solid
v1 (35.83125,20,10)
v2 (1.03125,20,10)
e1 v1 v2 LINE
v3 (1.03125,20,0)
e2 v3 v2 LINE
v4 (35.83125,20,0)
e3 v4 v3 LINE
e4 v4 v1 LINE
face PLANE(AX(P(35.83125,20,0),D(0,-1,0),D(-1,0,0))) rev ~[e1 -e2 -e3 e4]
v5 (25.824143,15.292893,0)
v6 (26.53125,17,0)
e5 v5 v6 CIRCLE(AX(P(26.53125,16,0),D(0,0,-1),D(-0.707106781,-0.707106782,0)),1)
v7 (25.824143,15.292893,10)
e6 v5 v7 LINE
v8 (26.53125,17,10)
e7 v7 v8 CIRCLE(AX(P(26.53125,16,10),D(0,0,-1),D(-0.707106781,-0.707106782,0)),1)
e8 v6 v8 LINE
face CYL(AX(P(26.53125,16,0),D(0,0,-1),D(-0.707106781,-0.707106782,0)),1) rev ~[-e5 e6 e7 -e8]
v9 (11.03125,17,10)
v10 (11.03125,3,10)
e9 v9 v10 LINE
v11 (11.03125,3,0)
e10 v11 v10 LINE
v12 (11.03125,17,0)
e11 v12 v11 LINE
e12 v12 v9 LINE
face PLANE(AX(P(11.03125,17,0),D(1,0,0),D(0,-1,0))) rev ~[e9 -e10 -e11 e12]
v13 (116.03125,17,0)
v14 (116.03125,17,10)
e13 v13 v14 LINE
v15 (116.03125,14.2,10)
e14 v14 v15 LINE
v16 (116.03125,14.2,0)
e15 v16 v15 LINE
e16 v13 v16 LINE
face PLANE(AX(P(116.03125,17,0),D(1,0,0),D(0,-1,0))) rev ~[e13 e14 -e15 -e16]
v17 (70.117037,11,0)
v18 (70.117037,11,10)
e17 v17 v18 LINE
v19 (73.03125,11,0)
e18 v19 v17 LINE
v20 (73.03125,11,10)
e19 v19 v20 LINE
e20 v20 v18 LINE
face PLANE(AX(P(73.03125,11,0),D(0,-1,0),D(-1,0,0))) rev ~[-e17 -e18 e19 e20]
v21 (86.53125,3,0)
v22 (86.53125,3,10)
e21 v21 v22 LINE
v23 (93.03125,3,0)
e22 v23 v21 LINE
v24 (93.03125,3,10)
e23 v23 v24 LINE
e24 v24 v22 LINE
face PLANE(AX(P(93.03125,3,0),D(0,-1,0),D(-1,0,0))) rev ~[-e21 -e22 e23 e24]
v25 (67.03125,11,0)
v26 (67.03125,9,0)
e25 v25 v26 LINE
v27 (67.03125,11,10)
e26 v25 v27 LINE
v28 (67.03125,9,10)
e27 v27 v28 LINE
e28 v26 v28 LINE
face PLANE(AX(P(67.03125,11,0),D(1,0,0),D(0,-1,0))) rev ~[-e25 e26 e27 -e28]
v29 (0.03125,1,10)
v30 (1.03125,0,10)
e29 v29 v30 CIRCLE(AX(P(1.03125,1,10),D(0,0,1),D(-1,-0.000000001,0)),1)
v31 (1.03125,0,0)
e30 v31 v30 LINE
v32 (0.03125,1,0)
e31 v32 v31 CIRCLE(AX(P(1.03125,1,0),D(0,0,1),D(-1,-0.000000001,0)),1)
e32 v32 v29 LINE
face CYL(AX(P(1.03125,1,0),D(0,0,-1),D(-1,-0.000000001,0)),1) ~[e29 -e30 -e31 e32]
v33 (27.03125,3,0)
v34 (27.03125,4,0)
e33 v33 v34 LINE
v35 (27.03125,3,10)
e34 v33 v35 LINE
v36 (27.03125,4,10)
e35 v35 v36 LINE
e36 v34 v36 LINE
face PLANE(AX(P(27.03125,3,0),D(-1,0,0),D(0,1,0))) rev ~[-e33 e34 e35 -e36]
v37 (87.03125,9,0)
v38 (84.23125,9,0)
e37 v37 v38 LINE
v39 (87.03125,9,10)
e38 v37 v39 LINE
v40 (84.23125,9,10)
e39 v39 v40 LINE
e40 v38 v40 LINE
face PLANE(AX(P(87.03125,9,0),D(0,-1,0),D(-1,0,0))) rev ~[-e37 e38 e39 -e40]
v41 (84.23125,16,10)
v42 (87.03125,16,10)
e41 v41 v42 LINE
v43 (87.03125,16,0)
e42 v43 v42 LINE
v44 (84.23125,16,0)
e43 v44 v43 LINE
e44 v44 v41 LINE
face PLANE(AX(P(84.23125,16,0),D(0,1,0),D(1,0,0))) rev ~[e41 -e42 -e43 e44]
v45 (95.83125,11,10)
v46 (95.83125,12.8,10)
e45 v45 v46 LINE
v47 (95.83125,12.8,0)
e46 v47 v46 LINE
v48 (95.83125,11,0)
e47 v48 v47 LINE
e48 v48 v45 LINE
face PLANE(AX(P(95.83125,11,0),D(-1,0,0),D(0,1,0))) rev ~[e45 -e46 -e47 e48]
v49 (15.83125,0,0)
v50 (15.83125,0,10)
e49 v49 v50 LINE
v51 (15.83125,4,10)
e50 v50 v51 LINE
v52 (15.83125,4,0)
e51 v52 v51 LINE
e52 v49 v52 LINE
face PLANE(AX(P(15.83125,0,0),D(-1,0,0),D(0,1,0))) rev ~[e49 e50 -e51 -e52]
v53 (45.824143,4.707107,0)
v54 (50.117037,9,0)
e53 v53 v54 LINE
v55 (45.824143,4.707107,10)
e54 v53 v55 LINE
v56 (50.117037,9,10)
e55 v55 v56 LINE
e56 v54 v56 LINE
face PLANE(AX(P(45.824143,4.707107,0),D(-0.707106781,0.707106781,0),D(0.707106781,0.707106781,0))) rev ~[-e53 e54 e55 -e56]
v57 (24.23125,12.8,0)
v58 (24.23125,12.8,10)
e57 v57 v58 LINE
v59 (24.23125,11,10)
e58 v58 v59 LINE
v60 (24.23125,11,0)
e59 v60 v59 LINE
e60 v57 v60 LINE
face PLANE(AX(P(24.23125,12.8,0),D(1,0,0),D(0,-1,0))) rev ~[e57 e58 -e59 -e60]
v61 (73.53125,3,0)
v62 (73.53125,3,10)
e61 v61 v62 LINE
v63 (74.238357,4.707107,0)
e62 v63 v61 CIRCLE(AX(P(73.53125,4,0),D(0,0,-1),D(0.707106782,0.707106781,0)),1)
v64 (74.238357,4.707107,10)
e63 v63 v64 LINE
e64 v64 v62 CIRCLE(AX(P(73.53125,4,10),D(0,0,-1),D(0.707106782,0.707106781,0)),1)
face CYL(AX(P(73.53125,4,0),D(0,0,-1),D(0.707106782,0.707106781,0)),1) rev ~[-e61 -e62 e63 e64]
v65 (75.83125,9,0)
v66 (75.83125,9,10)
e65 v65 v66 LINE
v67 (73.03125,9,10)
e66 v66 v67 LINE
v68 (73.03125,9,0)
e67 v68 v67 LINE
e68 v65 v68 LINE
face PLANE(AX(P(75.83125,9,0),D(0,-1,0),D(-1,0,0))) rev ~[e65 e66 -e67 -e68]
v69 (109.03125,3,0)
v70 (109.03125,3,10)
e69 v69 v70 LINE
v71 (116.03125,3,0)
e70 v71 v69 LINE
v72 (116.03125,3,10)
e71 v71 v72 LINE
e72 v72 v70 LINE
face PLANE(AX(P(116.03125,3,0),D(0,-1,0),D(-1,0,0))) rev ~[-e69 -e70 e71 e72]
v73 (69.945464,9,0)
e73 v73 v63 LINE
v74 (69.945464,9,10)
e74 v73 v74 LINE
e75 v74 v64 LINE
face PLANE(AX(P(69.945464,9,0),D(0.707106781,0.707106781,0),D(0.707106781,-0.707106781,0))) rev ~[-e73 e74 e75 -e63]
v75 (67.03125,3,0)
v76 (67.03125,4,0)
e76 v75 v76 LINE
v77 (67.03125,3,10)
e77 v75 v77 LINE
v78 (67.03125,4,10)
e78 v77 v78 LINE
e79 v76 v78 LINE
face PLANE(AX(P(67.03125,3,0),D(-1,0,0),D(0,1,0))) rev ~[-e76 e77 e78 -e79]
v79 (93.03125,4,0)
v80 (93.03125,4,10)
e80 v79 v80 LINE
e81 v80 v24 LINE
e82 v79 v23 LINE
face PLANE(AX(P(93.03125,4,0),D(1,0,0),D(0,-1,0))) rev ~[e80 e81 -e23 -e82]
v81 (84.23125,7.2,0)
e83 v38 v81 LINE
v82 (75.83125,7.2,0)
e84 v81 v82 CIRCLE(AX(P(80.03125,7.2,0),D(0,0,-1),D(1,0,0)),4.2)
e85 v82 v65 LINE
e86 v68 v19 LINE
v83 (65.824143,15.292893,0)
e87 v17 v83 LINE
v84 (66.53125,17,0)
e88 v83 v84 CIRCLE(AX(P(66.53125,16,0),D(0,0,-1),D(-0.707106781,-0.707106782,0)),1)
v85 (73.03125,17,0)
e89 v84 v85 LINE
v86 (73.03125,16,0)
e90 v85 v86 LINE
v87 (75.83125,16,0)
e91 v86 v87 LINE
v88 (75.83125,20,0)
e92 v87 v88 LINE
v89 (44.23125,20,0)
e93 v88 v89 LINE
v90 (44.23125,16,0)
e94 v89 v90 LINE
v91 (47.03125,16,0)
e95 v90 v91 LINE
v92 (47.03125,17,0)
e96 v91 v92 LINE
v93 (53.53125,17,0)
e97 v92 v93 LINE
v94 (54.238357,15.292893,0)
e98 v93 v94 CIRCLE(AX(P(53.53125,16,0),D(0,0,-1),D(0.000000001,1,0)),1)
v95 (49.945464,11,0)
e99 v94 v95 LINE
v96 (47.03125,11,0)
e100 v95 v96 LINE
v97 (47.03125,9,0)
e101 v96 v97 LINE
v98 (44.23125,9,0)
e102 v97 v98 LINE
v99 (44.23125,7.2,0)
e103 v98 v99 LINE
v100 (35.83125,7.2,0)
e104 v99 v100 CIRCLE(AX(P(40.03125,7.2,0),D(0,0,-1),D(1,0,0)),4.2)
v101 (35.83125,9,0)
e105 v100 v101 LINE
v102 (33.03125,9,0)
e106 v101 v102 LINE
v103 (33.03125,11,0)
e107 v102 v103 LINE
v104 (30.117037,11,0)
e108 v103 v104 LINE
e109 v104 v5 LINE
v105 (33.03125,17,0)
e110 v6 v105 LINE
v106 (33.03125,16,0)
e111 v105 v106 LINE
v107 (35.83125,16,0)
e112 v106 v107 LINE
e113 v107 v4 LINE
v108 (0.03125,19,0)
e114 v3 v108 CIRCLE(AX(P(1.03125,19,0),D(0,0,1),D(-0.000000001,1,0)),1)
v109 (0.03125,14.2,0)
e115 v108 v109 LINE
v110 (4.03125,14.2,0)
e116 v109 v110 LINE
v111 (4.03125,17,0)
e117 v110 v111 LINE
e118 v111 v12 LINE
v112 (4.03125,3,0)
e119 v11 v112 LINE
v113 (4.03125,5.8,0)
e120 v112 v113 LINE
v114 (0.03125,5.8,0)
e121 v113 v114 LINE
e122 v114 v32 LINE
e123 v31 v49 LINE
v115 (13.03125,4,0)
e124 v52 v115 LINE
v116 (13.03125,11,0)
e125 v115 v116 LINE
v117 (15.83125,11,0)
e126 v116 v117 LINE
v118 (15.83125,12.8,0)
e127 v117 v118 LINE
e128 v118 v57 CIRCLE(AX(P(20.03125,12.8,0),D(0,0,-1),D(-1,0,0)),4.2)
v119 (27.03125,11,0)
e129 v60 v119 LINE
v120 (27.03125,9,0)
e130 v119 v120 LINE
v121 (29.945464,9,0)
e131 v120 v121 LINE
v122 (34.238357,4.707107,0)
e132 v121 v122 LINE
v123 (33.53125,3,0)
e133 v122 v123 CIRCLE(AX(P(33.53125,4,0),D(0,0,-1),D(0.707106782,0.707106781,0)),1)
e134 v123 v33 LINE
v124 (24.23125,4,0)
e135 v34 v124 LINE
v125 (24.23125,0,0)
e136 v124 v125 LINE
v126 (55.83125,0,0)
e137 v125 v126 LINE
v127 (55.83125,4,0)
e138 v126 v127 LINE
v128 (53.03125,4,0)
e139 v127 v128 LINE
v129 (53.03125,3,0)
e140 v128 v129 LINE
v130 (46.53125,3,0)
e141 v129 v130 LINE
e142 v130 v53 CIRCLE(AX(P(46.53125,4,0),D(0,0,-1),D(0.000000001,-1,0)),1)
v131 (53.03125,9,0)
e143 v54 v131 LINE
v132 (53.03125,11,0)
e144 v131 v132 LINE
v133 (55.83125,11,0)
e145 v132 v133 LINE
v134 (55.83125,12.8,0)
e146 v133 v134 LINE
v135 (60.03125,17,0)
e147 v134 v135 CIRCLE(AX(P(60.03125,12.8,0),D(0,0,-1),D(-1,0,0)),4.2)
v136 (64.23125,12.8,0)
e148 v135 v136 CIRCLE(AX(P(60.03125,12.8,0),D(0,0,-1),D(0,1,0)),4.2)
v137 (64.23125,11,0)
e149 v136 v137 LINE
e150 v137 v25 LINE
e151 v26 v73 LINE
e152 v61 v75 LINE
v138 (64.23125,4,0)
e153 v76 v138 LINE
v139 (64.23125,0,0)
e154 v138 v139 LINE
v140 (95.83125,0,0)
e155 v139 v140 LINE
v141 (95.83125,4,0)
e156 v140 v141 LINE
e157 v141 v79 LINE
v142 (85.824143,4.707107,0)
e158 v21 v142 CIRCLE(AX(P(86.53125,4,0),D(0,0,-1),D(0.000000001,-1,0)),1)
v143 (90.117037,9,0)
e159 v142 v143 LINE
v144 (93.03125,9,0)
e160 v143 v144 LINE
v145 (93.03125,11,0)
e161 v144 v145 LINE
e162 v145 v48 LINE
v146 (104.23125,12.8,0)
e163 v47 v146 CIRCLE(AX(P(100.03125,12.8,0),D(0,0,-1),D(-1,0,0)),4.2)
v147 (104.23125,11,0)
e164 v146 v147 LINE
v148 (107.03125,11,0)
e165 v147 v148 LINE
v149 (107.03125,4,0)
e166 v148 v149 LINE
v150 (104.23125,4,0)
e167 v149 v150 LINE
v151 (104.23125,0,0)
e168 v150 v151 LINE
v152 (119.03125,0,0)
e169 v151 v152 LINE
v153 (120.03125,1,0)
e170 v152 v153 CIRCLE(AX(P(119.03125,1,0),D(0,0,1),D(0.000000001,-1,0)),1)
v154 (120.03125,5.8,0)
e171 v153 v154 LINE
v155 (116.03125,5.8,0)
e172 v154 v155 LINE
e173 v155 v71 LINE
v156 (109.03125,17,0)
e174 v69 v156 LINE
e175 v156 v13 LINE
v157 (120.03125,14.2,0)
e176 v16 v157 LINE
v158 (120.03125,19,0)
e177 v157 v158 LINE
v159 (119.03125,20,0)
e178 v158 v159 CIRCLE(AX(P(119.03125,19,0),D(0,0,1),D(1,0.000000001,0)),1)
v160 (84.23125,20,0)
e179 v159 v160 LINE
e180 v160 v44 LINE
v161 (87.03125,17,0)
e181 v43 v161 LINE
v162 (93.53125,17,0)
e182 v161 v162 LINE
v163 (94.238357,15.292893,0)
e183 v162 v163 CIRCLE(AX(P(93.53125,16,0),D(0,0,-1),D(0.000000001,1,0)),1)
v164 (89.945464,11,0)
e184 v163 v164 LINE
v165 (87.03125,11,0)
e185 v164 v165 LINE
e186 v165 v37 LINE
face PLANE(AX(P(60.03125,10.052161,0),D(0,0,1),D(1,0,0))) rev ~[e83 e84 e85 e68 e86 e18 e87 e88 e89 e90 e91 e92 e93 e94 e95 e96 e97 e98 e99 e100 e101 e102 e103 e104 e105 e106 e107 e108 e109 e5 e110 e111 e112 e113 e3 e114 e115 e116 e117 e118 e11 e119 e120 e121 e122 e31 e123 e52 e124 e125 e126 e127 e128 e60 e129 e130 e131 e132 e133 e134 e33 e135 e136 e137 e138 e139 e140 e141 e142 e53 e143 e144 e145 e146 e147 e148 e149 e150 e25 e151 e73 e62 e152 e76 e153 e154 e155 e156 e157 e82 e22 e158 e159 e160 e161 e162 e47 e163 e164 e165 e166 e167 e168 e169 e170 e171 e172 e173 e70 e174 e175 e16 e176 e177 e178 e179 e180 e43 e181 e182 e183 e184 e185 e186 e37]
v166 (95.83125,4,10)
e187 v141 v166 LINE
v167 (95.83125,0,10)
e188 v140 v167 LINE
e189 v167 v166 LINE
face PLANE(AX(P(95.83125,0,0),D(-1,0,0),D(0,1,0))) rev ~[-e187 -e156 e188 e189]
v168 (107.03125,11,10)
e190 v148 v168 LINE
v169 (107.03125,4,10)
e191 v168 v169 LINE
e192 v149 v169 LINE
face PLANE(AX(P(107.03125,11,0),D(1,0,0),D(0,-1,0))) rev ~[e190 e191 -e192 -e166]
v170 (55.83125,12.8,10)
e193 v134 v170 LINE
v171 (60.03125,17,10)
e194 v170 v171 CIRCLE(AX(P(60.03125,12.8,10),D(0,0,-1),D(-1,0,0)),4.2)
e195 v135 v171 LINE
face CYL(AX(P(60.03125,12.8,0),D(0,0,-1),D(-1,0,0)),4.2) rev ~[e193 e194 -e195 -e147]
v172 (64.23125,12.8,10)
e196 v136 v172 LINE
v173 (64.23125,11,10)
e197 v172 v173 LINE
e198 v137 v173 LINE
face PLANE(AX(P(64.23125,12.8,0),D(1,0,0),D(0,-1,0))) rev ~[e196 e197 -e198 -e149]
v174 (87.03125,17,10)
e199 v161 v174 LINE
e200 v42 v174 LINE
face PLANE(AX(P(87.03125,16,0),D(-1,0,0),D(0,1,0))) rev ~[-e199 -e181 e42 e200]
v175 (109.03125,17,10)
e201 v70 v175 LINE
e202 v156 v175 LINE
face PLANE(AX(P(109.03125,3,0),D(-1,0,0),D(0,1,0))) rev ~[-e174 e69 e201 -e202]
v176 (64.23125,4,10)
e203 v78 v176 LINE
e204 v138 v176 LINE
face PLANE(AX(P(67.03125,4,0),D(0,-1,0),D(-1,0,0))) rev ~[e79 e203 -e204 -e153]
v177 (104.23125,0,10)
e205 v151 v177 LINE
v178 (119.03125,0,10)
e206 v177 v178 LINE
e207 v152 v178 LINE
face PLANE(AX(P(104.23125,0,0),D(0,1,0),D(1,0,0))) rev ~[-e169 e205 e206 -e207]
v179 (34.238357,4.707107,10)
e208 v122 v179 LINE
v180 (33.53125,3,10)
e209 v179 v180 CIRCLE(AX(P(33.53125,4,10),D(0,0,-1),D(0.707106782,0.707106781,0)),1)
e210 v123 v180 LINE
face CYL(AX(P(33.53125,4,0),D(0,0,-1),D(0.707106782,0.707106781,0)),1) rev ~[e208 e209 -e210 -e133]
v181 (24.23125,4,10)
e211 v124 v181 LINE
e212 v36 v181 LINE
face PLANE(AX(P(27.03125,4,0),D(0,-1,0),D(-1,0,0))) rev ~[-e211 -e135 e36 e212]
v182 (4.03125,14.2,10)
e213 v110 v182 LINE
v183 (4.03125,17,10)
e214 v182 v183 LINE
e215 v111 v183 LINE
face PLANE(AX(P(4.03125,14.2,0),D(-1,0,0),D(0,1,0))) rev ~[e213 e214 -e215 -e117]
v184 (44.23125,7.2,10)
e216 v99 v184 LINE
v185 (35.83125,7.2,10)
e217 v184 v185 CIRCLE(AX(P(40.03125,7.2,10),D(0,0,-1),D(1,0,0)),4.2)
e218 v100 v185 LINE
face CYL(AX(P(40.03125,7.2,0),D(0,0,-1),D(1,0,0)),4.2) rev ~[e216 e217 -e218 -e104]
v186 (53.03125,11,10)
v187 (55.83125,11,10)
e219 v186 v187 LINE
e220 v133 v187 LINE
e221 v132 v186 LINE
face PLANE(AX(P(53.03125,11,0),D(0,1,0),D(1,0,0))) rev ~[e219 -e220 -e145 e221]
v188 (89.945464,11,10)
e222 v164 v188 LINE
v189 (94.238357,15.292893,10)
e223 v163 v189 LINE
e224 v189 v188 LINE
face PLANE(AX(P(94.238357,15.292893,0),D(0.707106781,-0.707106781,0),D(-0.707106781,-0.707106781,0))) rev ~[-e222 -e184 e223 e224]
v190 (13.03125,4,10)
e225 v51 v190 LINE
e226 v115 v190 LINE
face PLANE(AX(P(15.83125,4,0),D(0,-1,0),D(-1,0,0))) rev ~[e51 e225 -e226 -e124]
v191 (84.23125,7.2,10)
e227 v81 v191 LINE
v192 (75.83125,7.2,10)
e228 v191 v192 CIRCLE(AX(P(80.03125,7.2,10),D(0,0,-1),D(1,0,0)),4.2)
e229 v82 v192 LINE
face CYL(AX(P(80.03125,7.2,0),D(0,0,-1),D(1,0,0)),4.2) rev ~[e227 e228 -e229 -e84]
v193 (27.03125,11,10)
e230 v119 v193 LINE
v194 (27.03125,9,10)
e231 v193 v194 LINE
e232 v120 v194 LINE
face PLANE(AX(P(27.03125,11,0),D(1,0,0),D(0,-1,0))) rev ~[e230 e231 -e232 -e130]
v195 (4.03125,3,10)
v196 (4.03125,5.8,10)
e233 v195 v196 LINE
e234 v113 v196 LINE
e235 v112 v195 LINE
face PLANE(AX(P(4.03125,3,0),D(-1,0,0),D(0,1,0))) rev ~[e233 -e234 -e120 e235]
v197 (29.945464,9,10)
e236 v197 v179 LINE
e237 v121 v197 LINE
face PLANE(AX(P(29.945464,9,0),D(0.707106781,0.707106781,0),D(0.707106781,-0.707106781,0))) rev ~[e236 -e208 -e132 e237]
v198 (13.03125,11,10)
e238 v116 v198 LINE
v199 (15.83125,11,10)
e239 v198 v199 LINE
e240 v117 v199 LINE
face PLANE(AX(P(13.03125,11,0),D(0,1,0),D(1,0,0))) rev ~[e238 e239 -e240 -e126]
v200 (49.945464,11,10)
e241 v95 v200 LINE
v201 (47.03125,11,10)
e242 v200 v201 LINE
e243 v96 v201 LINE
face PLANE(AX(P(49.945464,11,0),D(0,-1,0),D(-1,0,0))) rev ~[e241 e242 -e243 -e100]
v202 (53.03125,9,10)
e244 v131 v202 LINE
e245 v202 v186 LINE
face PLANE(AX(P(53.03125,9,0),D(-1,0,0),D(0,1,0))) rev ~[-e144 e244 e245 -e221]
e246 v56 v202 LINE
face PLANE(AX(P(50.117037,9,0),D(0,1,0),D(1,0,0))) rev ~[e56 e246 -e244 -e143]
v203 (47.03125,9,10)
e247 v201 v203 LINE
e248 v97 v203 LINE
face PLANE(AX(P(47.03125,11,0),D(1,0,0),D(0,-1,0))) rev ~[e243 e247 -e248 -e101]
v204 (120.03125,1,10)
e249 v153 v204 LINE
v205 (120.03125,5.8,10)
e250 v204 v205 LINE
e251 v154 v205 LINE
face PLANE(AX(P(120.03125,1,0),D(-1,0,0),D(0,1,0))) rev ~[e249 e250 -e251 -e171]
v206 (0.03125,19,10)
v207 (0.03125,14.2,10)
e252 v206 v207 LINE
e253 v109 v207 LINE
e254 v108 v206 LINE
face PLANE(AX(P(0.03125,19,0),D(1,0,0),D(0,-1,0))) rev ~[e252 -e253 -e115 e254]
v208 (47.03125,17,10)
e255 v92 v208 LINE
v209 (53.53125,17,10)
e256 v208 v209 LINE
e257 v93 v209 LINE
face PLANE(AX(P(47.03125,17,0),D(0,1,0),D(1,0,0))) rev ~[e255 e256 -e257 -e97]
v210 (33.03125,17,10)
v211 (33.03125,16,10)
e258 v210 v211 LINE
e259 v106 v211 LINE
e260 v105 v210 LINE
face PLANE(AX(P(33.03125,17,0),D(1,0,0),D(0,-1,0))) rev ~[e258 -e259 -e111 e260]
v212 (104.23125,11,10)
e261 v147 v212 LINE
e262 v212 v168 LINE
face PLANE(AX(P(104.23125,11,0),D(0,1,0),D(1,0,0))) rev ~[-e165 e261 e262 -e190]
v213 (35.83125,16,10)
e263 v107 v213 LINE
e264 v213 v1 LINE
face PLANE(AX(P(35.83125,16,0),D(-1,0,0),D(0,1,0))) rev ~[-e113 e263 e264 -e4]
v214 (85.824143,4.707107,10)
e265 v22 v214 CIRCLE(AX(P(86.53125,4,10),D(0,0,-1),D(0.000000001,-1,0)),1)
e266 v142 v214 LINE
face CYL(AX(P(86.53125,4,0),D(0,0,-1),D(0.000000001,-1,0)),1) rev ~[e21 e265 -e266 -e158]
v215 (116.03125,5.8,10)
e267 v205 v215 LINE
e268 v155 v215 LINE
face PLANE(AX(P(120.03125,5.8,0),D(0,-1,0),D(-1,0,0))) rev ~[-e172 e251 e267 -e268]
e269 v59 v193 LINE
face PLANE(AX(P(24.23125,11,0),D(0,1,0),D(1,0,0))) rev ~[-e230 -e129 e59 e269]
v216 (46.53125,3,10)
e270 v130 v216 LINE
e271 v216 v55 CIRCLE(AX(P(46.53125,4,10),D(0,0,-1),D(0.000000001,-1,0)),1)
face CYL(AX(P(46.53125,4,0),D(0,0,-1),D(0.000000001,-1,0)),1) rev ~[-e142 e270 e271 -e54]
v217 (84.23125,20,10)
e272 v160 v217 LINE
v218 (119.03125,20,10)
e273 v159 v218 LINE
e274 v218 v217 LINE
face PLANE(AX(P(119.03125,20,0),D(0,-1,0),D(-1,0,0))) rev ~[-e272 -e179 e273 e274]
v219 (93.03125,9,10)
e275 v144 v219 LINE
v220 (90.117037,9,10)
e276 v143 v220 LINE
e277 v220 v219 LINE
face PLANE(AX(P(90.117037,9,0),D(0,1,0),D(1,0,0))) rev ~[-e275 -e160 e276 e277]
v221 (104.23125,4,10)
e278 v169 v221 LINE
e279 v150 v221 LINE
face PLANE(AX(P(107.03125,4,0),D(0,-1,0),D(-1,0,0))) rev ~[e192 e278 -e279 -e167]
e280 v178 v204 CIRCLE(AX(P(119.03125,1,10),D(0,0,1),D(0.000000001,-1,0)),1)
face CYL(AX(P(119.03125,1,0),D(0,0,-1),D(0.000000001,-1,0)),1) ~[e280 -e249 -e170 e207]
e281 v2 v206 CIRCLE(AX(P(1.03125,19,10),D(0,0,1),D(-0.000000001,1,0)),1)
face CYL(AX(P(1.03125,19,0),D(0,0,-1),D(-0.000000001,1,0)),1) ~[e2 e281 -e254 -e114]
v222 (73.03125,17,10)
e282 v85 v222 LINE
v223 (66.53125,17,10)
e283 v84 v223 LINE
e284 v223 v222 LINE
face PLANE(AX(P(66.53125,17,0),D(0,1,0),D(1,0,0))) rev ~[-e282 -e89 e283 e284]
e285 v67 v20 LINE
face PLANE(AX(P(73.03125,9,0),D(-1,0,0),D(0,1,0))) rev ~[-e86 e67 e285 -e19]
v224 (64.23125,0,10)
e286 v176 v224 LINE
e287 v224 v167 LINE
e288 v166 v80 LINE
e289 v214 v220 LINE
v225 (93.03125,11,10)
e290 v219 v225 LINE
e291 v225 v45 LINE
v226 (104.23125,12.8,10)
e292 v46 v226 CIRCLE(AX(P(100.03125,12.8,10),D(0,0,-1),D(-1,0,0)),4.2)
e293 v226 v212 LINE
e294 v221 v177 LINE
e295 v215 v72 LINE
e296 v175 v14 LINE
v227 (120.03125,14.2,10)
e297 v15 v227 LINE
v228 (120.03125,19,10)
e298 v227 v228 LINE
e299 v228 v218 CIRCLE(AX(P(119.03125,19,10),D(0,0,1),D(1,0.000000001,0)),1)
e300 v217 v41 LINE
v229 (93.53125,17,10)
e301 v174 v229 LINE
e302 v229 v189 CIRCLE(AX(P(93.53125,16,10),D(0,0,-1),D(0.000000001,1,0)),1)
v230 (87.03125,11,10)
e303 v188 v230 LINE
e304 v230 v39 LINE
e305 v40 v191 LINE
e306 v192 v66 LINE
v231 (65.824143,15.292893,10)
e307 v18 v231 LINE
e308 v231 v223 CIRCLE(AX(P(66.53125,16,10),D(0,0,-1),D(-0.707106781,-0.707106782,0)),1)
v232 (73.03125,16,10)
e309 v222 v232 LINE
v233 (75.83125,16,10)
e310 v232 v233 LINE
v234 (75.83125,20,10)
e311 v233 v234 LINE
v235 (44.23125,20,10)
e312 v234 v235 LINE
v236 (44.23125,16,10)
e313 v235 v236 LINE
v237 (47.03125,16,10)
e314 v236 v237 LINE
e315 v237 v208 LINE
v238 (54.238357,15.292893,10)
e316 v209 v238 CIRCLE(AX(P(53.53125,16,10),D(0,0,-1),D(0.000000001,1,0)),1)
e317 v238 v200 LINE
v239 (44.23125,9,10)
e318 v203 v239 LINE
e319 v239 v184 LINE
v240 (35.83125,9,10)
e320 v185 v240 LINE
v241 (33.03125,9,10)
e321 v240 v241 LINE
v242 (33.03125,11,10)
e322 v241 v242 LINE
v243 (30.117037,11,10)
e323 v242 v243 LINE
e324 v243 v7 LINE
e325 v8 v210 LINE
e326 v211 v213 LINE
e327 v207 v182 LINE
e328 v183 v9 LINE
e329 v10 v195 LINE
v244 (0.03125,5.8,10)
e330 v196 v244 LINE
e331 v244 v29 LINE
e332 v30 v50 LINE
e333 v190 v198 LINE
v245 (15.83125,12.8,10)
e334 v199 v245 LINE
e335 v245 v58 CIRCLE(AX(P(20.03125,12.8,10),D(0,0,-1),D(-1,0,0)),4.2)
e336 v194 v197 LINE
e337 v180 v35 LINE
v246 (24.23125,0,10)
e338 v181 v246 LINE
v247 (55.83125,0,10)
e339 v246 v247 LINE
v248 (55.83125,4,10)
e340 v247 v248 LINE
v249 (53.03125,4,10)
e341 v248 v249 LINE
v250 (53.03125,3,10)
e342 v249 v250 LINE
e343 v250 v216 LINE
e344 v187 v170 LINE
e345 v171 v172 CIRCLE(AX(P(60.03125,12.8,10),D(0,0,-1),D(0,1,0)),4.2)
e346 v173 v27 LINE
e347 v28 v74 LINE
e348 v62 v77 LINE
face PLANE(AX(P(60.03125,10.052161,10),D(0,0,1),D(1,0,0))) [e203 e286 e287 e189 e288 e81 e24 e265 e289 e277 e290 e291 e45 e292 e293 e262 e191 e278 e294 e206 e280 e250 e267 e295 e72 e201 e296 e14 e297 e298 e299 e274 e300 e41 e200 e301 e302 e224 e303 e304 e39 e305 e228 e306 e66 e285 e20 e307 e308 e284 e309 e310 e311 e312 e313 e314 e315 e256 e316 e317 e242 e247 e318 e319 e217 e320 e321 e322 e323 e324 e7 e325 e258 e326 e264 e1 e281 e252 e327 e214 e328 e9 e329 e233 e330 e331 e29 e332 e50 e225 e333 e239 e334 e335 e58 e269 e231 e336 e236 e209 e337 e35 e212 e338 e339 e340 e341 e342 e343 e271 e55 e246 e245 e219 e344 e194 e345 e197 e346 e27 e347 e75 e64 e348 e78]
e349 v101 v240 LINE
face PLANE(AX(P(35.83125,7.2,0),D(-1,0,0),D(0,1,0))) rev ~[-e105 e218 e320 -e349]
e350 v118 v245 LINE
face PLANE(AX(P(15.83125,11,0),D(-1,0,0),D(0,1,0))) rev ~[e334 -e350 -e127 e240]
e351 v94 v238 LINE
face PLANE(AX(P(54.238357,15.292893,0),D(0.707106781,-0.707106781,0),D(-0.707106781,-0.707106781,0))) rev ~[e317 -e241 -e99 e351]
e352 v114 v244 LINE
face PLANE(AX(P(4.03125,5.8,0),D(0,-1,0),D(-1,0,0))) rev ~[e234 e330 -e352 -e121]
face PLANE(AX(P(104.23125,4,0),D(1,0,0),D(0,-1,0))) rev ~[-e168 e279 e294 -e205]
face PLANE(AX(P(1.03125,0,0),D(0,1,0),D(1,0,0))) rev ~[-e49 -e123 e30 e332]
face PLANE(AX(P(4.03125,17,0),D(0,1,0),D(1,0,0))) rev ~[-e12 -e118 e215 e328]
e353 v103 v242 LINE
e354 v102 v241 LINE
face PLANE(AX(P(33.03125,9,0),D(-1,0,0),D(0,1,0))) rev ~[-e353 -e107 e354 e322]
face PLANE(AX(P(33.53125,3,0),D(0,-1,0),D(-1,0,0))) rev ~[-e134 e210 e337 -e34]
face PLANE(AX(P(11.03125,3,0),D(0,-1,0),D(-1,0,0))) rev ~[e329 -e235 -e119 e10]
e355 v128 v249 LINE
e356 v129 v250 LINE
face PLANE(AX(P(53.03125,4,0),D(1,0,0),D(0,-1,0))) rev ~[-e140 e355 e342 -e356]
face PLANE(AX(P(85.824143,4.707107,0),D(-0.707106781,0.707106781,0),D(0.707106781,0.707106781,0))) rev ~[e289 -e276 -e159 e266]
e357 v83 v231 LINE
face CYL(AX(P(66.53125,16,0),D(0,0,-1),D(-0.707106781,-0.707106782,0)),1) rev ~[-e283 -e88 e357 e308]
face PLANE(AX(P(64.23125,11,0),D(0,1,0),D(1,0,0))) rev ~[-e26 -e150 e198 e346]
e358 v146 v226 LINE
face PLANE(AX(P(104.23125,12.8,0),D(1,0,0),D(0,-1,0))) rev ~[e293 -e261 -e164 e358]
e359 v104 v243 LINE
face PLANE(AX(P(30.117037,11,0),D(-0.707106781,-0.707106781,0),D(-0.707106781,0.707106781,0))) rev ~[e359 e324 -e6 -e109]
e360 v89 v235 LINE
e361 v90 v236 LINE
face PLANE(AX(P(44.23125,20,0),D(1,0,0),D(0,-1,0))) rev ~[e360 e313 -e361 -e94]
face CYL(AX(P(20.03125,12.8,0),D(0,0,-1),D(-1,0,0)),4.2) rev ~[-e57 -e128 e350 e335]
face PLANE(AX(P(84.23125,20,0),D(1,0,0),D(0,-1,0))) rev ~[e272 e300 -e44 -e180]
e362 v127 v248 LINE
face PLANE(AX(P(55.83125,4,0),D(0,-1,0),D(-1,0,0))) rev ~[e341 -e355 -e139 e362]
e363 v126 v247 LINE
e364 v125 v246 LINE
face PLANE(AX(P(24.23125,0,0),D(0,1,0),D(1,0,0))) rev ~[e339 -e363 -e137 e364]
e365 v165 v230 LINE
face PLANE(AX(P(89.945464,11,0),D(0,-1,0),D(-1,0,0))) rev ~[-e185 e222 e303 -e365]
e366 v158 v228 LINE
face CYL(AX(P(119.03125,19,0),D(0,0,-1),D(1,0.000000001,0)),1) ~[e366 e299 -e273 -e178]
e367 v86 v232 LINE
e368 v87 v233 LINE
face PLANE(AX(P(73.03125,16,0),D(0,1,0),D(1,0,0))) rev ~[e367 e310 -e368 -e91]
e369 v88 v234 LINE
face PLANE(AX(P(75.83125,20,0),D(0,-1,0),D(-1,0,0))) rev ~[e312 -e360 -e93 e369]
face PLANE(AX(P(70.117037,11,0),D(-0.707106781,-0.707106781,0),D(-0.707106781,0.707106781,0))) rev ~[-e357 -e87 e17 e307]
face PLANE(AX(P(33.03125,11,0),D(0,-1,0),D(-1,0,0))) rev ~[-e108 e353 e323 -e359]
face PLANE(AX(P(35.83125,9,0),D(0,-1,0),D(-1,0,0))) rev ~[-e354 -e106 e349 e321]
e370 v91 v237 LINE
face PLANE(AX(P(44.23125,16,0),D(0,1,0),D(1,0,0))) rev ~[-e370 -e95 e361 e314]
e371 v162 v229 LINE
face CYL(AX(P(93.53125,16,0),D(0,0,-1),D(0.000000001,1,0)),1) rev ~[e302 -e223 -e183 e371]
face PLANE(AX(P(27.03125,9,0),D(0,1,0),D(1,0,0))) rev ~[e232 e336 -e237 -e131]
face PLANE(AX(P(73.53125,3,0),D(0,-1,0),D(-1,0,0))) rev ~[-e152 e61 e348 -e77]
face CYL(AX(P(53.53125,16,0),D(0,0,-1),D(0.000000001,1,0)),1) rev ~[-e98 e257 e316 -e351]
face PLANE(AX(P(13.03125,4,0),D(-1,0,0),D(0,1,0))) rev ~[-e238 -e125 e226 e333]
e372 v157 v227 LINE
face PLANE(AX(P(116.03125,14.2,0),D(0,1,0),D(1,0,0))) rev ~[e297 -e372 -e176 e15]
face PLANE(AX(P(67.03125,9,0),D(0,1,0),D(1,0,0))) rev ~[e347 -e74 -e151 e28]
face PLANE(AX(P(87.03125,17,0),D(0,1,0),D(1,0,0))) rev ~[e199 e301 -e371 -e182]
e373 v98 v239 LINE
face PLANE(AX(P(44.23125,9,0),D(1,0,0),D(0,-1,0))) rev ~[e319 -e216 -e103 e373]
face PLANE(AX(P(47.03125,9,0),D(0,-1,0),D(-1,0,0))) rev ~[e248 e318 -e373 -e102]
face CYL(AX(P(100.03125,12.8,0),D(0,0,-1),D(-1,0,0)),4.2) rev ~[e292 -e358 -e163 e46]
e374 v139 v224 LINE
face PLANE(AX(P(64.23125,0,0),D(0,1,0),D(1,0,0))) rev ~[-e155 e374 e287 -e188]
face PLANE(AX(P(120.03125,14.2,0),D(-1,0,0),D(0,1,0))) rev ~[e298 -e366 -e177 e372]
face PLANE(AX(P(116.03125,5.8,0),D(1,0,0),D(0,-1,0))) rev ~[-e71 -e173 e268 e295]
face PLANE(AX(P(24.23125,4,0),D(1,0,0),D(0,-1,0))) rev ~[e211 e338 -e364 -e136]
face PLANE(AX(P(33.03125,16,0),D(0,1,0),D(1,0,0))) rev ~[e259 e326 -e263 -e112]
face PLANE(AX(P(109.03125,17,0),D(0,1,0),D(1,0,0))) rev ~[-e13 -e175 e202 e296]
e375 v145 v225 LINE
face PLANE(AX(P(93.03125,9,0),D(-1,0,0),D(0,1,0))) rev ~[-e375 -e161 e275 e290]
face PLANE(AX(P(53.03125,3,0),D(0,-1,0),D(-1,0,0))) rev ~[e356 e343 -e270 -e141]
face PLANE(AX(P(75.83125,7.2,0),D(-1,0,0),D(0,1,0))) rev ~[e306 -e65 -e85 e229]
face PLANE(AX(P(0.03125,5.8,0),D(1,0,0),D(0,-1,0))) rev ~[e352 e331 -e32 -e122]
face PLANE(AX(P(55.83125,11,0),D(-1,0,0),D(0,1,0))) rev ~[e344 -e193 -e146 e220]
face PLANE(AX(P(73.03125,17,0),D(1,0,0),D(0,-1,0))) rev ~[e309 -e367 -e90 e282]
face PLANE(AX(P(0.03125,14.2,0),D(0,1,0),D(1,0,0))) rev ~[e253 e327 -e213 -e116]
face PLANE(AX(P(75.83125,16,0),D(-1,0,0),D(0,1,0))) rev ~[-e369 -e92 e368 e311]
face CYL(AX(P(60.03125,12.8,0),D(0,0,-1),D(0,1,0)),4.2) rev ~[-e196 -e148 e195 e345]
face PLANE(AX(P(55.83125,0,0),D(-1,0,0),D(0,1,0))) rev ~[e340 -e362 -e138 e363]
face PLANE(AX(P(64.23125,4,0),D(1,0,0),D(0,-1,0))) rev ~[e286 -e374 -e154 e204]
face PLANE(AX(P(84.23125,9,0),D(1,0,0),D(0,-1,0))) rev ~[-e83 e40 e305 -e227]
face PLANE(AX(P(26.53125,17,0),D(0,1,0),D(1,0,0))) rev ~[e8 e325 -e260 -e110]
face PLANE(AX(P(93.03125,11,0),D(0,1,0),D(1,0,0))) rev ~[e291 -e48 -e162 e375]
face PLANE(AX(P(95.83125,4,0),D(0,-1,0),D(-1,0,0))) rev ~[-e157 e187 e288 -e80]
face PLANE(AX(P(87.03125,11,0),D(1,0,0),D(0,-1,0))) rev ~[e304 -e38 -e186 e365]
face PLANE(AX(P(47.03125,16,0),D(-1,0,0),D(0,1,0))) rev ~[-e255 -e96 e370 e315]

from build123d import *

# Parameters (mm, degrees)
EXTRUDE_1_DEPTH = 10


with BuildPart() as part:
    # 草图1 → 凸台-拉伸1 (new body)
    with BuildSketch(Plane.XY):
        with BuildLine():
            Line((66.531250095, 17), (73.031250095, 17))
            Line((73.031250095, 17), (73.031250095, 16))
            Line((73.031250095, 16), (75.831250095, 16))
            Line((75.831250095, 16), (75.831250095, 20))
            Line((75.831250095, 20), (60.031250095, 20))
            Line((60.031250095, 20), (44.231250095, 20))
            Line((44.231250095, 20), (44.231250095, 16))
            Line((44.231250095, 16), (47.031250095, 16))
            Line((47.031250095, 16), (47.031250095, 17))
            Line((47.031250095, 17), (53.531250095, 17))
            ThreePointArc((53.531250095, 17), (54.455129627, 16.382683432), (54.238356876, 15.292893219))
            Line((54.238356876, 15.292893219), (49.945463657, 11))
            Line((49.945463657, 11), (47.031250095, 11))
            Line((47.031250095, 11), (47.031250095, 9))
            Line((47.031250095, 9), (44.231250095, 9))
            Line((44.231250095, 9), (44.231250095, 7.2))
            ThreePointArc((44.231250095, 7.2), (40.031250095, 3), (35.831250095, 7.2))
            Line((35.831250095, 7.2), (35.831250095, 9))
            Line((35.831250095, 9), (33.031250095, 9))
            Line((33.031250095, 9), (33.031250095, 11))
            Line((33.031250095, 11), (30.117036532, 11))
            Line((30.117036532, 11), (25.824143314, 15.292893219))
            ThreePointArc((25.824143314, 15.292893219), (25.607370562, 16.382683432), (26.531250095, 17))
            Line((26.531250095, 17), (33.031250095, 17))
            Line((33.031250095, 17), (33.031250095, 16))
            Line((33.031250095, 16), (35.831250095, 16))
            Line((35.831250095, 16), (35.831250095, 20))
            Line((35.831250095, 20), (1.031250095, 20))
            ThreePointArc((1.031250095, 20), (0.324143314, 19.707106781), (0.031250095, 19))
            Line((0.031250095, 19), (0.031250095, 14.2))
            Line((0.031250095, 14.2), (4.031250095, 14.2))
            Line((4.031250095, 14.2), (4.031250095, 17))
            Line((4.031250095, 17), (11.031250095, 17))
            Line((11.031250095, 17), (11.031250095, 3))
            Line((11.031250095, 3), (4.031250095, 3))
            Line((4.031250095, 3), (4.031250095, 5.8))
            Line((4.031250095, 5.8), (0.031250095, 5.8))
            Line((0.031250095, 5.8), (0.031250095, 1))
            ThreePointArc((0.031250095, 1), (0.324143314, 0.292893219), (1.031250095, 0))
            Line((1.031250095, 0), (15.831250095, 0))
            Line((15.831250095, 0), (15.831250095, 4))
            Line((15.831250095, 4), (13.031250095, 4))
            Line((13.031250095, 4), (13.031250095, 11))
            Line((13.031250095, 11), (15.831250095, 11))
            Line((15.831250095, 11), (15.831250095, 12.8))
            ThreePointArc((15.831250095, 12.8), (20.031250095, 17), (24.231250095, 12.8))
            Line((24.231250095, 12.8), (24.231250095, 11))
            Line((24.231250095, 11), (27.031250095, 11))
            Line((27.031250095, 11), (27.031250095, 9))
            Line((27.031250095, 9), (29.945463657, 9))
            Line((29.945463657, 9), (34.238356876, 4.707106781))
            ThreePointArc((34.238356876, 4.707106781), (34.455129627, 3.617316568), (33.531250095, 3))
            Line((33.531250095, 3), (27.031250095, 3))
            Line((27.031250095, 3), (27.031250095, 4))
            Line((27.031250095, 4), (24.231250095, 4))
            Line((24.231250095, 4), (24.231250095, 0))
            Line((24.231250095, 0), (55.831250095, 0))
            Line((55.831250095, 0), (55.831250095, 4))
            Line((55.831250095, 4), (53.031250095, 4))
            Line((53.031250095, 4), (53.031250095, 3))
            Line((53.031250095, 3), (46.531250095, 3))
            ThreePointArc((46.531250095, 3), (45.607370562, 3.617316568), (45.824143314, 4.707106781))
            Line((45.824143314, 4.707106781), (50.117036532, 9))
            Line((50.117036532, 9), (53.031250095, 9))
            Line((53.031250095, 9), (53.031250095, 11))
            Line((53.031250095, 11), (55.831250095, 11))
            Line((55.831250095, 11), (55.831250095, 12.8))
            ThreePointArc((55.831250095, 12.8), (57.061401614, 15.769848481), (60.031250095, 17))
            ThreePointArc((60.031250095, 17), (63.001098576, 15.769848481), (64.231250095, 12.8))
            Line((64.231250095, 12.8), (64.231250095, 11))
            Line((64.231250095, 11), (67.031250095, 11))
            Line((67.031250095, 11), (67.031250095, 9))
            Line((67.031250095, 9), (69.945463657, 9))
            Line((69.945463657, 9), (74.238356876, 4.707106781))
            ThreePointArc((74.238356876, 4.707106781), (74.455129627, 3.617316568), (73.531250095, 3))
            Line((73.531250095, 3), (67.031250095, 3))
            Line((67.031250095, 3), (67.031250095, 4))
            Line((67.031250095, 4), (64.231250095, 4))
            Line((64.231250095, 4), (64.231250095, 0))
            Line((64.231250095, 0), (95.831250095, 0))
            Line((95.831250095, 0), (95.831250095, 4))
            Line((95.831250095, 4), (93.031250095, 4))
            Line((93.031250095, 4), (93.031250095, 3))
            Line((93.031250095, 3), (86.531250095, 3))
            ThreePointArc((86.531250095, 3), (85.607370562, 3.617316568), (85.824143314, 4.707106781))
            Line((85.824143314, 4.707106781), (90.117036532, 9))
            Line((90.117036532, 9), (93.031250095, 9))
            Line((93.031250095, 9), (93.031250095, 11))
            Line((93.031250095, 11), (95.831250095, 11))
            Line((95.831250095, 11), (95.831250095, 12.8))
            ThreePointArc((95.831250095, 12.8), (100.031250095, 17), (104.231250095, 12.8))
            Line((104.231250095, 12.8), (104.231250095, 11))
            Line((104.231250095, 11), (107.031250095, 11))
            Line((107.031250095, 11), (107.031250095, 4))
            Line((107.031250095, 4), (104.231250095, 4))
            Line((104.231250095, 4), (104.231250095, 0))
            Line((104.231250095, 0), (119.031250095, 0))
            ThreePointArc((119.031250095, 0), (119.738356876, 0.292893219), (120.031250095, 1))
            Line((120.031250095, 1), (120.031250095, 5.8))
            Line((120.031250095, 5.8), (116.031250095, 5.8))
            Line((116.031250095, 5.8), (116.031250095, 3))
            Line((116.031250095, 3), (109.031250095, 3))
            Line((109.031250095, 3), (109.031250095, 17))
            Line((109.031250095, 17), (116.031250095, 17))
            Line((116.031250095, 17), (116.031250095, 14.2))
            Line((116.031250095, 14.2), (120.031250095, 14.2))
            Line((120.031250095, 14.2), (120.031250095, 19))
            ThreePointArc((120.031250095, 19), (119.738356876, 19.707106781), (119.031250095, 20))
            Line((119.031250095, 20), (84.231250095, 20))
            Line((84.231250095, 20), (84.231250095, 16))
            Line((84.231250095, 16), (87.031250095, 16))
            Line((87.031250095, 16), (87.031250095, 17))
            Line((87.031250095, 17), (93.531250095, 17))
            ThreePointArc((93.531250095, 17), (94.455129627, 16.382683432), (94.238356876, 15.292893219))
            Line((94.238356876, 15.292893219), (89.945463657, 11))
            Line((89.945463657, 11), (87.031250095, 11))
            Line((87.031250095, 11), (87.031250095, 9))
            Line((87.031250095, 9), (84.231250095, 9))
            Line((84.231250095, 9), (84.231250095, 7.2))
            ThreePointArc((84.231250095, 7.2), (80.031250095, 3), (75.831250095, 7.2))
            Line((75.831250095, 7.2), (75.831250095, 9))
            Line((75.831250095, 9), (73.031250095, 9))
            Line((73.031250095, 9), (73.031250095, 11))
            Line((73.031250095, 11), (70.117036532, 11))
            Line((70.117036532, 11), (65.824143314, 15.292893219))
            ThreePointArc((65.824143314, 15.292893219), (65.607370562, 16.382683432), (66.531250095, 17))
        make_face()
    extrude(amount=EXTRUDE_1_DEPTH)


solid = part.part
